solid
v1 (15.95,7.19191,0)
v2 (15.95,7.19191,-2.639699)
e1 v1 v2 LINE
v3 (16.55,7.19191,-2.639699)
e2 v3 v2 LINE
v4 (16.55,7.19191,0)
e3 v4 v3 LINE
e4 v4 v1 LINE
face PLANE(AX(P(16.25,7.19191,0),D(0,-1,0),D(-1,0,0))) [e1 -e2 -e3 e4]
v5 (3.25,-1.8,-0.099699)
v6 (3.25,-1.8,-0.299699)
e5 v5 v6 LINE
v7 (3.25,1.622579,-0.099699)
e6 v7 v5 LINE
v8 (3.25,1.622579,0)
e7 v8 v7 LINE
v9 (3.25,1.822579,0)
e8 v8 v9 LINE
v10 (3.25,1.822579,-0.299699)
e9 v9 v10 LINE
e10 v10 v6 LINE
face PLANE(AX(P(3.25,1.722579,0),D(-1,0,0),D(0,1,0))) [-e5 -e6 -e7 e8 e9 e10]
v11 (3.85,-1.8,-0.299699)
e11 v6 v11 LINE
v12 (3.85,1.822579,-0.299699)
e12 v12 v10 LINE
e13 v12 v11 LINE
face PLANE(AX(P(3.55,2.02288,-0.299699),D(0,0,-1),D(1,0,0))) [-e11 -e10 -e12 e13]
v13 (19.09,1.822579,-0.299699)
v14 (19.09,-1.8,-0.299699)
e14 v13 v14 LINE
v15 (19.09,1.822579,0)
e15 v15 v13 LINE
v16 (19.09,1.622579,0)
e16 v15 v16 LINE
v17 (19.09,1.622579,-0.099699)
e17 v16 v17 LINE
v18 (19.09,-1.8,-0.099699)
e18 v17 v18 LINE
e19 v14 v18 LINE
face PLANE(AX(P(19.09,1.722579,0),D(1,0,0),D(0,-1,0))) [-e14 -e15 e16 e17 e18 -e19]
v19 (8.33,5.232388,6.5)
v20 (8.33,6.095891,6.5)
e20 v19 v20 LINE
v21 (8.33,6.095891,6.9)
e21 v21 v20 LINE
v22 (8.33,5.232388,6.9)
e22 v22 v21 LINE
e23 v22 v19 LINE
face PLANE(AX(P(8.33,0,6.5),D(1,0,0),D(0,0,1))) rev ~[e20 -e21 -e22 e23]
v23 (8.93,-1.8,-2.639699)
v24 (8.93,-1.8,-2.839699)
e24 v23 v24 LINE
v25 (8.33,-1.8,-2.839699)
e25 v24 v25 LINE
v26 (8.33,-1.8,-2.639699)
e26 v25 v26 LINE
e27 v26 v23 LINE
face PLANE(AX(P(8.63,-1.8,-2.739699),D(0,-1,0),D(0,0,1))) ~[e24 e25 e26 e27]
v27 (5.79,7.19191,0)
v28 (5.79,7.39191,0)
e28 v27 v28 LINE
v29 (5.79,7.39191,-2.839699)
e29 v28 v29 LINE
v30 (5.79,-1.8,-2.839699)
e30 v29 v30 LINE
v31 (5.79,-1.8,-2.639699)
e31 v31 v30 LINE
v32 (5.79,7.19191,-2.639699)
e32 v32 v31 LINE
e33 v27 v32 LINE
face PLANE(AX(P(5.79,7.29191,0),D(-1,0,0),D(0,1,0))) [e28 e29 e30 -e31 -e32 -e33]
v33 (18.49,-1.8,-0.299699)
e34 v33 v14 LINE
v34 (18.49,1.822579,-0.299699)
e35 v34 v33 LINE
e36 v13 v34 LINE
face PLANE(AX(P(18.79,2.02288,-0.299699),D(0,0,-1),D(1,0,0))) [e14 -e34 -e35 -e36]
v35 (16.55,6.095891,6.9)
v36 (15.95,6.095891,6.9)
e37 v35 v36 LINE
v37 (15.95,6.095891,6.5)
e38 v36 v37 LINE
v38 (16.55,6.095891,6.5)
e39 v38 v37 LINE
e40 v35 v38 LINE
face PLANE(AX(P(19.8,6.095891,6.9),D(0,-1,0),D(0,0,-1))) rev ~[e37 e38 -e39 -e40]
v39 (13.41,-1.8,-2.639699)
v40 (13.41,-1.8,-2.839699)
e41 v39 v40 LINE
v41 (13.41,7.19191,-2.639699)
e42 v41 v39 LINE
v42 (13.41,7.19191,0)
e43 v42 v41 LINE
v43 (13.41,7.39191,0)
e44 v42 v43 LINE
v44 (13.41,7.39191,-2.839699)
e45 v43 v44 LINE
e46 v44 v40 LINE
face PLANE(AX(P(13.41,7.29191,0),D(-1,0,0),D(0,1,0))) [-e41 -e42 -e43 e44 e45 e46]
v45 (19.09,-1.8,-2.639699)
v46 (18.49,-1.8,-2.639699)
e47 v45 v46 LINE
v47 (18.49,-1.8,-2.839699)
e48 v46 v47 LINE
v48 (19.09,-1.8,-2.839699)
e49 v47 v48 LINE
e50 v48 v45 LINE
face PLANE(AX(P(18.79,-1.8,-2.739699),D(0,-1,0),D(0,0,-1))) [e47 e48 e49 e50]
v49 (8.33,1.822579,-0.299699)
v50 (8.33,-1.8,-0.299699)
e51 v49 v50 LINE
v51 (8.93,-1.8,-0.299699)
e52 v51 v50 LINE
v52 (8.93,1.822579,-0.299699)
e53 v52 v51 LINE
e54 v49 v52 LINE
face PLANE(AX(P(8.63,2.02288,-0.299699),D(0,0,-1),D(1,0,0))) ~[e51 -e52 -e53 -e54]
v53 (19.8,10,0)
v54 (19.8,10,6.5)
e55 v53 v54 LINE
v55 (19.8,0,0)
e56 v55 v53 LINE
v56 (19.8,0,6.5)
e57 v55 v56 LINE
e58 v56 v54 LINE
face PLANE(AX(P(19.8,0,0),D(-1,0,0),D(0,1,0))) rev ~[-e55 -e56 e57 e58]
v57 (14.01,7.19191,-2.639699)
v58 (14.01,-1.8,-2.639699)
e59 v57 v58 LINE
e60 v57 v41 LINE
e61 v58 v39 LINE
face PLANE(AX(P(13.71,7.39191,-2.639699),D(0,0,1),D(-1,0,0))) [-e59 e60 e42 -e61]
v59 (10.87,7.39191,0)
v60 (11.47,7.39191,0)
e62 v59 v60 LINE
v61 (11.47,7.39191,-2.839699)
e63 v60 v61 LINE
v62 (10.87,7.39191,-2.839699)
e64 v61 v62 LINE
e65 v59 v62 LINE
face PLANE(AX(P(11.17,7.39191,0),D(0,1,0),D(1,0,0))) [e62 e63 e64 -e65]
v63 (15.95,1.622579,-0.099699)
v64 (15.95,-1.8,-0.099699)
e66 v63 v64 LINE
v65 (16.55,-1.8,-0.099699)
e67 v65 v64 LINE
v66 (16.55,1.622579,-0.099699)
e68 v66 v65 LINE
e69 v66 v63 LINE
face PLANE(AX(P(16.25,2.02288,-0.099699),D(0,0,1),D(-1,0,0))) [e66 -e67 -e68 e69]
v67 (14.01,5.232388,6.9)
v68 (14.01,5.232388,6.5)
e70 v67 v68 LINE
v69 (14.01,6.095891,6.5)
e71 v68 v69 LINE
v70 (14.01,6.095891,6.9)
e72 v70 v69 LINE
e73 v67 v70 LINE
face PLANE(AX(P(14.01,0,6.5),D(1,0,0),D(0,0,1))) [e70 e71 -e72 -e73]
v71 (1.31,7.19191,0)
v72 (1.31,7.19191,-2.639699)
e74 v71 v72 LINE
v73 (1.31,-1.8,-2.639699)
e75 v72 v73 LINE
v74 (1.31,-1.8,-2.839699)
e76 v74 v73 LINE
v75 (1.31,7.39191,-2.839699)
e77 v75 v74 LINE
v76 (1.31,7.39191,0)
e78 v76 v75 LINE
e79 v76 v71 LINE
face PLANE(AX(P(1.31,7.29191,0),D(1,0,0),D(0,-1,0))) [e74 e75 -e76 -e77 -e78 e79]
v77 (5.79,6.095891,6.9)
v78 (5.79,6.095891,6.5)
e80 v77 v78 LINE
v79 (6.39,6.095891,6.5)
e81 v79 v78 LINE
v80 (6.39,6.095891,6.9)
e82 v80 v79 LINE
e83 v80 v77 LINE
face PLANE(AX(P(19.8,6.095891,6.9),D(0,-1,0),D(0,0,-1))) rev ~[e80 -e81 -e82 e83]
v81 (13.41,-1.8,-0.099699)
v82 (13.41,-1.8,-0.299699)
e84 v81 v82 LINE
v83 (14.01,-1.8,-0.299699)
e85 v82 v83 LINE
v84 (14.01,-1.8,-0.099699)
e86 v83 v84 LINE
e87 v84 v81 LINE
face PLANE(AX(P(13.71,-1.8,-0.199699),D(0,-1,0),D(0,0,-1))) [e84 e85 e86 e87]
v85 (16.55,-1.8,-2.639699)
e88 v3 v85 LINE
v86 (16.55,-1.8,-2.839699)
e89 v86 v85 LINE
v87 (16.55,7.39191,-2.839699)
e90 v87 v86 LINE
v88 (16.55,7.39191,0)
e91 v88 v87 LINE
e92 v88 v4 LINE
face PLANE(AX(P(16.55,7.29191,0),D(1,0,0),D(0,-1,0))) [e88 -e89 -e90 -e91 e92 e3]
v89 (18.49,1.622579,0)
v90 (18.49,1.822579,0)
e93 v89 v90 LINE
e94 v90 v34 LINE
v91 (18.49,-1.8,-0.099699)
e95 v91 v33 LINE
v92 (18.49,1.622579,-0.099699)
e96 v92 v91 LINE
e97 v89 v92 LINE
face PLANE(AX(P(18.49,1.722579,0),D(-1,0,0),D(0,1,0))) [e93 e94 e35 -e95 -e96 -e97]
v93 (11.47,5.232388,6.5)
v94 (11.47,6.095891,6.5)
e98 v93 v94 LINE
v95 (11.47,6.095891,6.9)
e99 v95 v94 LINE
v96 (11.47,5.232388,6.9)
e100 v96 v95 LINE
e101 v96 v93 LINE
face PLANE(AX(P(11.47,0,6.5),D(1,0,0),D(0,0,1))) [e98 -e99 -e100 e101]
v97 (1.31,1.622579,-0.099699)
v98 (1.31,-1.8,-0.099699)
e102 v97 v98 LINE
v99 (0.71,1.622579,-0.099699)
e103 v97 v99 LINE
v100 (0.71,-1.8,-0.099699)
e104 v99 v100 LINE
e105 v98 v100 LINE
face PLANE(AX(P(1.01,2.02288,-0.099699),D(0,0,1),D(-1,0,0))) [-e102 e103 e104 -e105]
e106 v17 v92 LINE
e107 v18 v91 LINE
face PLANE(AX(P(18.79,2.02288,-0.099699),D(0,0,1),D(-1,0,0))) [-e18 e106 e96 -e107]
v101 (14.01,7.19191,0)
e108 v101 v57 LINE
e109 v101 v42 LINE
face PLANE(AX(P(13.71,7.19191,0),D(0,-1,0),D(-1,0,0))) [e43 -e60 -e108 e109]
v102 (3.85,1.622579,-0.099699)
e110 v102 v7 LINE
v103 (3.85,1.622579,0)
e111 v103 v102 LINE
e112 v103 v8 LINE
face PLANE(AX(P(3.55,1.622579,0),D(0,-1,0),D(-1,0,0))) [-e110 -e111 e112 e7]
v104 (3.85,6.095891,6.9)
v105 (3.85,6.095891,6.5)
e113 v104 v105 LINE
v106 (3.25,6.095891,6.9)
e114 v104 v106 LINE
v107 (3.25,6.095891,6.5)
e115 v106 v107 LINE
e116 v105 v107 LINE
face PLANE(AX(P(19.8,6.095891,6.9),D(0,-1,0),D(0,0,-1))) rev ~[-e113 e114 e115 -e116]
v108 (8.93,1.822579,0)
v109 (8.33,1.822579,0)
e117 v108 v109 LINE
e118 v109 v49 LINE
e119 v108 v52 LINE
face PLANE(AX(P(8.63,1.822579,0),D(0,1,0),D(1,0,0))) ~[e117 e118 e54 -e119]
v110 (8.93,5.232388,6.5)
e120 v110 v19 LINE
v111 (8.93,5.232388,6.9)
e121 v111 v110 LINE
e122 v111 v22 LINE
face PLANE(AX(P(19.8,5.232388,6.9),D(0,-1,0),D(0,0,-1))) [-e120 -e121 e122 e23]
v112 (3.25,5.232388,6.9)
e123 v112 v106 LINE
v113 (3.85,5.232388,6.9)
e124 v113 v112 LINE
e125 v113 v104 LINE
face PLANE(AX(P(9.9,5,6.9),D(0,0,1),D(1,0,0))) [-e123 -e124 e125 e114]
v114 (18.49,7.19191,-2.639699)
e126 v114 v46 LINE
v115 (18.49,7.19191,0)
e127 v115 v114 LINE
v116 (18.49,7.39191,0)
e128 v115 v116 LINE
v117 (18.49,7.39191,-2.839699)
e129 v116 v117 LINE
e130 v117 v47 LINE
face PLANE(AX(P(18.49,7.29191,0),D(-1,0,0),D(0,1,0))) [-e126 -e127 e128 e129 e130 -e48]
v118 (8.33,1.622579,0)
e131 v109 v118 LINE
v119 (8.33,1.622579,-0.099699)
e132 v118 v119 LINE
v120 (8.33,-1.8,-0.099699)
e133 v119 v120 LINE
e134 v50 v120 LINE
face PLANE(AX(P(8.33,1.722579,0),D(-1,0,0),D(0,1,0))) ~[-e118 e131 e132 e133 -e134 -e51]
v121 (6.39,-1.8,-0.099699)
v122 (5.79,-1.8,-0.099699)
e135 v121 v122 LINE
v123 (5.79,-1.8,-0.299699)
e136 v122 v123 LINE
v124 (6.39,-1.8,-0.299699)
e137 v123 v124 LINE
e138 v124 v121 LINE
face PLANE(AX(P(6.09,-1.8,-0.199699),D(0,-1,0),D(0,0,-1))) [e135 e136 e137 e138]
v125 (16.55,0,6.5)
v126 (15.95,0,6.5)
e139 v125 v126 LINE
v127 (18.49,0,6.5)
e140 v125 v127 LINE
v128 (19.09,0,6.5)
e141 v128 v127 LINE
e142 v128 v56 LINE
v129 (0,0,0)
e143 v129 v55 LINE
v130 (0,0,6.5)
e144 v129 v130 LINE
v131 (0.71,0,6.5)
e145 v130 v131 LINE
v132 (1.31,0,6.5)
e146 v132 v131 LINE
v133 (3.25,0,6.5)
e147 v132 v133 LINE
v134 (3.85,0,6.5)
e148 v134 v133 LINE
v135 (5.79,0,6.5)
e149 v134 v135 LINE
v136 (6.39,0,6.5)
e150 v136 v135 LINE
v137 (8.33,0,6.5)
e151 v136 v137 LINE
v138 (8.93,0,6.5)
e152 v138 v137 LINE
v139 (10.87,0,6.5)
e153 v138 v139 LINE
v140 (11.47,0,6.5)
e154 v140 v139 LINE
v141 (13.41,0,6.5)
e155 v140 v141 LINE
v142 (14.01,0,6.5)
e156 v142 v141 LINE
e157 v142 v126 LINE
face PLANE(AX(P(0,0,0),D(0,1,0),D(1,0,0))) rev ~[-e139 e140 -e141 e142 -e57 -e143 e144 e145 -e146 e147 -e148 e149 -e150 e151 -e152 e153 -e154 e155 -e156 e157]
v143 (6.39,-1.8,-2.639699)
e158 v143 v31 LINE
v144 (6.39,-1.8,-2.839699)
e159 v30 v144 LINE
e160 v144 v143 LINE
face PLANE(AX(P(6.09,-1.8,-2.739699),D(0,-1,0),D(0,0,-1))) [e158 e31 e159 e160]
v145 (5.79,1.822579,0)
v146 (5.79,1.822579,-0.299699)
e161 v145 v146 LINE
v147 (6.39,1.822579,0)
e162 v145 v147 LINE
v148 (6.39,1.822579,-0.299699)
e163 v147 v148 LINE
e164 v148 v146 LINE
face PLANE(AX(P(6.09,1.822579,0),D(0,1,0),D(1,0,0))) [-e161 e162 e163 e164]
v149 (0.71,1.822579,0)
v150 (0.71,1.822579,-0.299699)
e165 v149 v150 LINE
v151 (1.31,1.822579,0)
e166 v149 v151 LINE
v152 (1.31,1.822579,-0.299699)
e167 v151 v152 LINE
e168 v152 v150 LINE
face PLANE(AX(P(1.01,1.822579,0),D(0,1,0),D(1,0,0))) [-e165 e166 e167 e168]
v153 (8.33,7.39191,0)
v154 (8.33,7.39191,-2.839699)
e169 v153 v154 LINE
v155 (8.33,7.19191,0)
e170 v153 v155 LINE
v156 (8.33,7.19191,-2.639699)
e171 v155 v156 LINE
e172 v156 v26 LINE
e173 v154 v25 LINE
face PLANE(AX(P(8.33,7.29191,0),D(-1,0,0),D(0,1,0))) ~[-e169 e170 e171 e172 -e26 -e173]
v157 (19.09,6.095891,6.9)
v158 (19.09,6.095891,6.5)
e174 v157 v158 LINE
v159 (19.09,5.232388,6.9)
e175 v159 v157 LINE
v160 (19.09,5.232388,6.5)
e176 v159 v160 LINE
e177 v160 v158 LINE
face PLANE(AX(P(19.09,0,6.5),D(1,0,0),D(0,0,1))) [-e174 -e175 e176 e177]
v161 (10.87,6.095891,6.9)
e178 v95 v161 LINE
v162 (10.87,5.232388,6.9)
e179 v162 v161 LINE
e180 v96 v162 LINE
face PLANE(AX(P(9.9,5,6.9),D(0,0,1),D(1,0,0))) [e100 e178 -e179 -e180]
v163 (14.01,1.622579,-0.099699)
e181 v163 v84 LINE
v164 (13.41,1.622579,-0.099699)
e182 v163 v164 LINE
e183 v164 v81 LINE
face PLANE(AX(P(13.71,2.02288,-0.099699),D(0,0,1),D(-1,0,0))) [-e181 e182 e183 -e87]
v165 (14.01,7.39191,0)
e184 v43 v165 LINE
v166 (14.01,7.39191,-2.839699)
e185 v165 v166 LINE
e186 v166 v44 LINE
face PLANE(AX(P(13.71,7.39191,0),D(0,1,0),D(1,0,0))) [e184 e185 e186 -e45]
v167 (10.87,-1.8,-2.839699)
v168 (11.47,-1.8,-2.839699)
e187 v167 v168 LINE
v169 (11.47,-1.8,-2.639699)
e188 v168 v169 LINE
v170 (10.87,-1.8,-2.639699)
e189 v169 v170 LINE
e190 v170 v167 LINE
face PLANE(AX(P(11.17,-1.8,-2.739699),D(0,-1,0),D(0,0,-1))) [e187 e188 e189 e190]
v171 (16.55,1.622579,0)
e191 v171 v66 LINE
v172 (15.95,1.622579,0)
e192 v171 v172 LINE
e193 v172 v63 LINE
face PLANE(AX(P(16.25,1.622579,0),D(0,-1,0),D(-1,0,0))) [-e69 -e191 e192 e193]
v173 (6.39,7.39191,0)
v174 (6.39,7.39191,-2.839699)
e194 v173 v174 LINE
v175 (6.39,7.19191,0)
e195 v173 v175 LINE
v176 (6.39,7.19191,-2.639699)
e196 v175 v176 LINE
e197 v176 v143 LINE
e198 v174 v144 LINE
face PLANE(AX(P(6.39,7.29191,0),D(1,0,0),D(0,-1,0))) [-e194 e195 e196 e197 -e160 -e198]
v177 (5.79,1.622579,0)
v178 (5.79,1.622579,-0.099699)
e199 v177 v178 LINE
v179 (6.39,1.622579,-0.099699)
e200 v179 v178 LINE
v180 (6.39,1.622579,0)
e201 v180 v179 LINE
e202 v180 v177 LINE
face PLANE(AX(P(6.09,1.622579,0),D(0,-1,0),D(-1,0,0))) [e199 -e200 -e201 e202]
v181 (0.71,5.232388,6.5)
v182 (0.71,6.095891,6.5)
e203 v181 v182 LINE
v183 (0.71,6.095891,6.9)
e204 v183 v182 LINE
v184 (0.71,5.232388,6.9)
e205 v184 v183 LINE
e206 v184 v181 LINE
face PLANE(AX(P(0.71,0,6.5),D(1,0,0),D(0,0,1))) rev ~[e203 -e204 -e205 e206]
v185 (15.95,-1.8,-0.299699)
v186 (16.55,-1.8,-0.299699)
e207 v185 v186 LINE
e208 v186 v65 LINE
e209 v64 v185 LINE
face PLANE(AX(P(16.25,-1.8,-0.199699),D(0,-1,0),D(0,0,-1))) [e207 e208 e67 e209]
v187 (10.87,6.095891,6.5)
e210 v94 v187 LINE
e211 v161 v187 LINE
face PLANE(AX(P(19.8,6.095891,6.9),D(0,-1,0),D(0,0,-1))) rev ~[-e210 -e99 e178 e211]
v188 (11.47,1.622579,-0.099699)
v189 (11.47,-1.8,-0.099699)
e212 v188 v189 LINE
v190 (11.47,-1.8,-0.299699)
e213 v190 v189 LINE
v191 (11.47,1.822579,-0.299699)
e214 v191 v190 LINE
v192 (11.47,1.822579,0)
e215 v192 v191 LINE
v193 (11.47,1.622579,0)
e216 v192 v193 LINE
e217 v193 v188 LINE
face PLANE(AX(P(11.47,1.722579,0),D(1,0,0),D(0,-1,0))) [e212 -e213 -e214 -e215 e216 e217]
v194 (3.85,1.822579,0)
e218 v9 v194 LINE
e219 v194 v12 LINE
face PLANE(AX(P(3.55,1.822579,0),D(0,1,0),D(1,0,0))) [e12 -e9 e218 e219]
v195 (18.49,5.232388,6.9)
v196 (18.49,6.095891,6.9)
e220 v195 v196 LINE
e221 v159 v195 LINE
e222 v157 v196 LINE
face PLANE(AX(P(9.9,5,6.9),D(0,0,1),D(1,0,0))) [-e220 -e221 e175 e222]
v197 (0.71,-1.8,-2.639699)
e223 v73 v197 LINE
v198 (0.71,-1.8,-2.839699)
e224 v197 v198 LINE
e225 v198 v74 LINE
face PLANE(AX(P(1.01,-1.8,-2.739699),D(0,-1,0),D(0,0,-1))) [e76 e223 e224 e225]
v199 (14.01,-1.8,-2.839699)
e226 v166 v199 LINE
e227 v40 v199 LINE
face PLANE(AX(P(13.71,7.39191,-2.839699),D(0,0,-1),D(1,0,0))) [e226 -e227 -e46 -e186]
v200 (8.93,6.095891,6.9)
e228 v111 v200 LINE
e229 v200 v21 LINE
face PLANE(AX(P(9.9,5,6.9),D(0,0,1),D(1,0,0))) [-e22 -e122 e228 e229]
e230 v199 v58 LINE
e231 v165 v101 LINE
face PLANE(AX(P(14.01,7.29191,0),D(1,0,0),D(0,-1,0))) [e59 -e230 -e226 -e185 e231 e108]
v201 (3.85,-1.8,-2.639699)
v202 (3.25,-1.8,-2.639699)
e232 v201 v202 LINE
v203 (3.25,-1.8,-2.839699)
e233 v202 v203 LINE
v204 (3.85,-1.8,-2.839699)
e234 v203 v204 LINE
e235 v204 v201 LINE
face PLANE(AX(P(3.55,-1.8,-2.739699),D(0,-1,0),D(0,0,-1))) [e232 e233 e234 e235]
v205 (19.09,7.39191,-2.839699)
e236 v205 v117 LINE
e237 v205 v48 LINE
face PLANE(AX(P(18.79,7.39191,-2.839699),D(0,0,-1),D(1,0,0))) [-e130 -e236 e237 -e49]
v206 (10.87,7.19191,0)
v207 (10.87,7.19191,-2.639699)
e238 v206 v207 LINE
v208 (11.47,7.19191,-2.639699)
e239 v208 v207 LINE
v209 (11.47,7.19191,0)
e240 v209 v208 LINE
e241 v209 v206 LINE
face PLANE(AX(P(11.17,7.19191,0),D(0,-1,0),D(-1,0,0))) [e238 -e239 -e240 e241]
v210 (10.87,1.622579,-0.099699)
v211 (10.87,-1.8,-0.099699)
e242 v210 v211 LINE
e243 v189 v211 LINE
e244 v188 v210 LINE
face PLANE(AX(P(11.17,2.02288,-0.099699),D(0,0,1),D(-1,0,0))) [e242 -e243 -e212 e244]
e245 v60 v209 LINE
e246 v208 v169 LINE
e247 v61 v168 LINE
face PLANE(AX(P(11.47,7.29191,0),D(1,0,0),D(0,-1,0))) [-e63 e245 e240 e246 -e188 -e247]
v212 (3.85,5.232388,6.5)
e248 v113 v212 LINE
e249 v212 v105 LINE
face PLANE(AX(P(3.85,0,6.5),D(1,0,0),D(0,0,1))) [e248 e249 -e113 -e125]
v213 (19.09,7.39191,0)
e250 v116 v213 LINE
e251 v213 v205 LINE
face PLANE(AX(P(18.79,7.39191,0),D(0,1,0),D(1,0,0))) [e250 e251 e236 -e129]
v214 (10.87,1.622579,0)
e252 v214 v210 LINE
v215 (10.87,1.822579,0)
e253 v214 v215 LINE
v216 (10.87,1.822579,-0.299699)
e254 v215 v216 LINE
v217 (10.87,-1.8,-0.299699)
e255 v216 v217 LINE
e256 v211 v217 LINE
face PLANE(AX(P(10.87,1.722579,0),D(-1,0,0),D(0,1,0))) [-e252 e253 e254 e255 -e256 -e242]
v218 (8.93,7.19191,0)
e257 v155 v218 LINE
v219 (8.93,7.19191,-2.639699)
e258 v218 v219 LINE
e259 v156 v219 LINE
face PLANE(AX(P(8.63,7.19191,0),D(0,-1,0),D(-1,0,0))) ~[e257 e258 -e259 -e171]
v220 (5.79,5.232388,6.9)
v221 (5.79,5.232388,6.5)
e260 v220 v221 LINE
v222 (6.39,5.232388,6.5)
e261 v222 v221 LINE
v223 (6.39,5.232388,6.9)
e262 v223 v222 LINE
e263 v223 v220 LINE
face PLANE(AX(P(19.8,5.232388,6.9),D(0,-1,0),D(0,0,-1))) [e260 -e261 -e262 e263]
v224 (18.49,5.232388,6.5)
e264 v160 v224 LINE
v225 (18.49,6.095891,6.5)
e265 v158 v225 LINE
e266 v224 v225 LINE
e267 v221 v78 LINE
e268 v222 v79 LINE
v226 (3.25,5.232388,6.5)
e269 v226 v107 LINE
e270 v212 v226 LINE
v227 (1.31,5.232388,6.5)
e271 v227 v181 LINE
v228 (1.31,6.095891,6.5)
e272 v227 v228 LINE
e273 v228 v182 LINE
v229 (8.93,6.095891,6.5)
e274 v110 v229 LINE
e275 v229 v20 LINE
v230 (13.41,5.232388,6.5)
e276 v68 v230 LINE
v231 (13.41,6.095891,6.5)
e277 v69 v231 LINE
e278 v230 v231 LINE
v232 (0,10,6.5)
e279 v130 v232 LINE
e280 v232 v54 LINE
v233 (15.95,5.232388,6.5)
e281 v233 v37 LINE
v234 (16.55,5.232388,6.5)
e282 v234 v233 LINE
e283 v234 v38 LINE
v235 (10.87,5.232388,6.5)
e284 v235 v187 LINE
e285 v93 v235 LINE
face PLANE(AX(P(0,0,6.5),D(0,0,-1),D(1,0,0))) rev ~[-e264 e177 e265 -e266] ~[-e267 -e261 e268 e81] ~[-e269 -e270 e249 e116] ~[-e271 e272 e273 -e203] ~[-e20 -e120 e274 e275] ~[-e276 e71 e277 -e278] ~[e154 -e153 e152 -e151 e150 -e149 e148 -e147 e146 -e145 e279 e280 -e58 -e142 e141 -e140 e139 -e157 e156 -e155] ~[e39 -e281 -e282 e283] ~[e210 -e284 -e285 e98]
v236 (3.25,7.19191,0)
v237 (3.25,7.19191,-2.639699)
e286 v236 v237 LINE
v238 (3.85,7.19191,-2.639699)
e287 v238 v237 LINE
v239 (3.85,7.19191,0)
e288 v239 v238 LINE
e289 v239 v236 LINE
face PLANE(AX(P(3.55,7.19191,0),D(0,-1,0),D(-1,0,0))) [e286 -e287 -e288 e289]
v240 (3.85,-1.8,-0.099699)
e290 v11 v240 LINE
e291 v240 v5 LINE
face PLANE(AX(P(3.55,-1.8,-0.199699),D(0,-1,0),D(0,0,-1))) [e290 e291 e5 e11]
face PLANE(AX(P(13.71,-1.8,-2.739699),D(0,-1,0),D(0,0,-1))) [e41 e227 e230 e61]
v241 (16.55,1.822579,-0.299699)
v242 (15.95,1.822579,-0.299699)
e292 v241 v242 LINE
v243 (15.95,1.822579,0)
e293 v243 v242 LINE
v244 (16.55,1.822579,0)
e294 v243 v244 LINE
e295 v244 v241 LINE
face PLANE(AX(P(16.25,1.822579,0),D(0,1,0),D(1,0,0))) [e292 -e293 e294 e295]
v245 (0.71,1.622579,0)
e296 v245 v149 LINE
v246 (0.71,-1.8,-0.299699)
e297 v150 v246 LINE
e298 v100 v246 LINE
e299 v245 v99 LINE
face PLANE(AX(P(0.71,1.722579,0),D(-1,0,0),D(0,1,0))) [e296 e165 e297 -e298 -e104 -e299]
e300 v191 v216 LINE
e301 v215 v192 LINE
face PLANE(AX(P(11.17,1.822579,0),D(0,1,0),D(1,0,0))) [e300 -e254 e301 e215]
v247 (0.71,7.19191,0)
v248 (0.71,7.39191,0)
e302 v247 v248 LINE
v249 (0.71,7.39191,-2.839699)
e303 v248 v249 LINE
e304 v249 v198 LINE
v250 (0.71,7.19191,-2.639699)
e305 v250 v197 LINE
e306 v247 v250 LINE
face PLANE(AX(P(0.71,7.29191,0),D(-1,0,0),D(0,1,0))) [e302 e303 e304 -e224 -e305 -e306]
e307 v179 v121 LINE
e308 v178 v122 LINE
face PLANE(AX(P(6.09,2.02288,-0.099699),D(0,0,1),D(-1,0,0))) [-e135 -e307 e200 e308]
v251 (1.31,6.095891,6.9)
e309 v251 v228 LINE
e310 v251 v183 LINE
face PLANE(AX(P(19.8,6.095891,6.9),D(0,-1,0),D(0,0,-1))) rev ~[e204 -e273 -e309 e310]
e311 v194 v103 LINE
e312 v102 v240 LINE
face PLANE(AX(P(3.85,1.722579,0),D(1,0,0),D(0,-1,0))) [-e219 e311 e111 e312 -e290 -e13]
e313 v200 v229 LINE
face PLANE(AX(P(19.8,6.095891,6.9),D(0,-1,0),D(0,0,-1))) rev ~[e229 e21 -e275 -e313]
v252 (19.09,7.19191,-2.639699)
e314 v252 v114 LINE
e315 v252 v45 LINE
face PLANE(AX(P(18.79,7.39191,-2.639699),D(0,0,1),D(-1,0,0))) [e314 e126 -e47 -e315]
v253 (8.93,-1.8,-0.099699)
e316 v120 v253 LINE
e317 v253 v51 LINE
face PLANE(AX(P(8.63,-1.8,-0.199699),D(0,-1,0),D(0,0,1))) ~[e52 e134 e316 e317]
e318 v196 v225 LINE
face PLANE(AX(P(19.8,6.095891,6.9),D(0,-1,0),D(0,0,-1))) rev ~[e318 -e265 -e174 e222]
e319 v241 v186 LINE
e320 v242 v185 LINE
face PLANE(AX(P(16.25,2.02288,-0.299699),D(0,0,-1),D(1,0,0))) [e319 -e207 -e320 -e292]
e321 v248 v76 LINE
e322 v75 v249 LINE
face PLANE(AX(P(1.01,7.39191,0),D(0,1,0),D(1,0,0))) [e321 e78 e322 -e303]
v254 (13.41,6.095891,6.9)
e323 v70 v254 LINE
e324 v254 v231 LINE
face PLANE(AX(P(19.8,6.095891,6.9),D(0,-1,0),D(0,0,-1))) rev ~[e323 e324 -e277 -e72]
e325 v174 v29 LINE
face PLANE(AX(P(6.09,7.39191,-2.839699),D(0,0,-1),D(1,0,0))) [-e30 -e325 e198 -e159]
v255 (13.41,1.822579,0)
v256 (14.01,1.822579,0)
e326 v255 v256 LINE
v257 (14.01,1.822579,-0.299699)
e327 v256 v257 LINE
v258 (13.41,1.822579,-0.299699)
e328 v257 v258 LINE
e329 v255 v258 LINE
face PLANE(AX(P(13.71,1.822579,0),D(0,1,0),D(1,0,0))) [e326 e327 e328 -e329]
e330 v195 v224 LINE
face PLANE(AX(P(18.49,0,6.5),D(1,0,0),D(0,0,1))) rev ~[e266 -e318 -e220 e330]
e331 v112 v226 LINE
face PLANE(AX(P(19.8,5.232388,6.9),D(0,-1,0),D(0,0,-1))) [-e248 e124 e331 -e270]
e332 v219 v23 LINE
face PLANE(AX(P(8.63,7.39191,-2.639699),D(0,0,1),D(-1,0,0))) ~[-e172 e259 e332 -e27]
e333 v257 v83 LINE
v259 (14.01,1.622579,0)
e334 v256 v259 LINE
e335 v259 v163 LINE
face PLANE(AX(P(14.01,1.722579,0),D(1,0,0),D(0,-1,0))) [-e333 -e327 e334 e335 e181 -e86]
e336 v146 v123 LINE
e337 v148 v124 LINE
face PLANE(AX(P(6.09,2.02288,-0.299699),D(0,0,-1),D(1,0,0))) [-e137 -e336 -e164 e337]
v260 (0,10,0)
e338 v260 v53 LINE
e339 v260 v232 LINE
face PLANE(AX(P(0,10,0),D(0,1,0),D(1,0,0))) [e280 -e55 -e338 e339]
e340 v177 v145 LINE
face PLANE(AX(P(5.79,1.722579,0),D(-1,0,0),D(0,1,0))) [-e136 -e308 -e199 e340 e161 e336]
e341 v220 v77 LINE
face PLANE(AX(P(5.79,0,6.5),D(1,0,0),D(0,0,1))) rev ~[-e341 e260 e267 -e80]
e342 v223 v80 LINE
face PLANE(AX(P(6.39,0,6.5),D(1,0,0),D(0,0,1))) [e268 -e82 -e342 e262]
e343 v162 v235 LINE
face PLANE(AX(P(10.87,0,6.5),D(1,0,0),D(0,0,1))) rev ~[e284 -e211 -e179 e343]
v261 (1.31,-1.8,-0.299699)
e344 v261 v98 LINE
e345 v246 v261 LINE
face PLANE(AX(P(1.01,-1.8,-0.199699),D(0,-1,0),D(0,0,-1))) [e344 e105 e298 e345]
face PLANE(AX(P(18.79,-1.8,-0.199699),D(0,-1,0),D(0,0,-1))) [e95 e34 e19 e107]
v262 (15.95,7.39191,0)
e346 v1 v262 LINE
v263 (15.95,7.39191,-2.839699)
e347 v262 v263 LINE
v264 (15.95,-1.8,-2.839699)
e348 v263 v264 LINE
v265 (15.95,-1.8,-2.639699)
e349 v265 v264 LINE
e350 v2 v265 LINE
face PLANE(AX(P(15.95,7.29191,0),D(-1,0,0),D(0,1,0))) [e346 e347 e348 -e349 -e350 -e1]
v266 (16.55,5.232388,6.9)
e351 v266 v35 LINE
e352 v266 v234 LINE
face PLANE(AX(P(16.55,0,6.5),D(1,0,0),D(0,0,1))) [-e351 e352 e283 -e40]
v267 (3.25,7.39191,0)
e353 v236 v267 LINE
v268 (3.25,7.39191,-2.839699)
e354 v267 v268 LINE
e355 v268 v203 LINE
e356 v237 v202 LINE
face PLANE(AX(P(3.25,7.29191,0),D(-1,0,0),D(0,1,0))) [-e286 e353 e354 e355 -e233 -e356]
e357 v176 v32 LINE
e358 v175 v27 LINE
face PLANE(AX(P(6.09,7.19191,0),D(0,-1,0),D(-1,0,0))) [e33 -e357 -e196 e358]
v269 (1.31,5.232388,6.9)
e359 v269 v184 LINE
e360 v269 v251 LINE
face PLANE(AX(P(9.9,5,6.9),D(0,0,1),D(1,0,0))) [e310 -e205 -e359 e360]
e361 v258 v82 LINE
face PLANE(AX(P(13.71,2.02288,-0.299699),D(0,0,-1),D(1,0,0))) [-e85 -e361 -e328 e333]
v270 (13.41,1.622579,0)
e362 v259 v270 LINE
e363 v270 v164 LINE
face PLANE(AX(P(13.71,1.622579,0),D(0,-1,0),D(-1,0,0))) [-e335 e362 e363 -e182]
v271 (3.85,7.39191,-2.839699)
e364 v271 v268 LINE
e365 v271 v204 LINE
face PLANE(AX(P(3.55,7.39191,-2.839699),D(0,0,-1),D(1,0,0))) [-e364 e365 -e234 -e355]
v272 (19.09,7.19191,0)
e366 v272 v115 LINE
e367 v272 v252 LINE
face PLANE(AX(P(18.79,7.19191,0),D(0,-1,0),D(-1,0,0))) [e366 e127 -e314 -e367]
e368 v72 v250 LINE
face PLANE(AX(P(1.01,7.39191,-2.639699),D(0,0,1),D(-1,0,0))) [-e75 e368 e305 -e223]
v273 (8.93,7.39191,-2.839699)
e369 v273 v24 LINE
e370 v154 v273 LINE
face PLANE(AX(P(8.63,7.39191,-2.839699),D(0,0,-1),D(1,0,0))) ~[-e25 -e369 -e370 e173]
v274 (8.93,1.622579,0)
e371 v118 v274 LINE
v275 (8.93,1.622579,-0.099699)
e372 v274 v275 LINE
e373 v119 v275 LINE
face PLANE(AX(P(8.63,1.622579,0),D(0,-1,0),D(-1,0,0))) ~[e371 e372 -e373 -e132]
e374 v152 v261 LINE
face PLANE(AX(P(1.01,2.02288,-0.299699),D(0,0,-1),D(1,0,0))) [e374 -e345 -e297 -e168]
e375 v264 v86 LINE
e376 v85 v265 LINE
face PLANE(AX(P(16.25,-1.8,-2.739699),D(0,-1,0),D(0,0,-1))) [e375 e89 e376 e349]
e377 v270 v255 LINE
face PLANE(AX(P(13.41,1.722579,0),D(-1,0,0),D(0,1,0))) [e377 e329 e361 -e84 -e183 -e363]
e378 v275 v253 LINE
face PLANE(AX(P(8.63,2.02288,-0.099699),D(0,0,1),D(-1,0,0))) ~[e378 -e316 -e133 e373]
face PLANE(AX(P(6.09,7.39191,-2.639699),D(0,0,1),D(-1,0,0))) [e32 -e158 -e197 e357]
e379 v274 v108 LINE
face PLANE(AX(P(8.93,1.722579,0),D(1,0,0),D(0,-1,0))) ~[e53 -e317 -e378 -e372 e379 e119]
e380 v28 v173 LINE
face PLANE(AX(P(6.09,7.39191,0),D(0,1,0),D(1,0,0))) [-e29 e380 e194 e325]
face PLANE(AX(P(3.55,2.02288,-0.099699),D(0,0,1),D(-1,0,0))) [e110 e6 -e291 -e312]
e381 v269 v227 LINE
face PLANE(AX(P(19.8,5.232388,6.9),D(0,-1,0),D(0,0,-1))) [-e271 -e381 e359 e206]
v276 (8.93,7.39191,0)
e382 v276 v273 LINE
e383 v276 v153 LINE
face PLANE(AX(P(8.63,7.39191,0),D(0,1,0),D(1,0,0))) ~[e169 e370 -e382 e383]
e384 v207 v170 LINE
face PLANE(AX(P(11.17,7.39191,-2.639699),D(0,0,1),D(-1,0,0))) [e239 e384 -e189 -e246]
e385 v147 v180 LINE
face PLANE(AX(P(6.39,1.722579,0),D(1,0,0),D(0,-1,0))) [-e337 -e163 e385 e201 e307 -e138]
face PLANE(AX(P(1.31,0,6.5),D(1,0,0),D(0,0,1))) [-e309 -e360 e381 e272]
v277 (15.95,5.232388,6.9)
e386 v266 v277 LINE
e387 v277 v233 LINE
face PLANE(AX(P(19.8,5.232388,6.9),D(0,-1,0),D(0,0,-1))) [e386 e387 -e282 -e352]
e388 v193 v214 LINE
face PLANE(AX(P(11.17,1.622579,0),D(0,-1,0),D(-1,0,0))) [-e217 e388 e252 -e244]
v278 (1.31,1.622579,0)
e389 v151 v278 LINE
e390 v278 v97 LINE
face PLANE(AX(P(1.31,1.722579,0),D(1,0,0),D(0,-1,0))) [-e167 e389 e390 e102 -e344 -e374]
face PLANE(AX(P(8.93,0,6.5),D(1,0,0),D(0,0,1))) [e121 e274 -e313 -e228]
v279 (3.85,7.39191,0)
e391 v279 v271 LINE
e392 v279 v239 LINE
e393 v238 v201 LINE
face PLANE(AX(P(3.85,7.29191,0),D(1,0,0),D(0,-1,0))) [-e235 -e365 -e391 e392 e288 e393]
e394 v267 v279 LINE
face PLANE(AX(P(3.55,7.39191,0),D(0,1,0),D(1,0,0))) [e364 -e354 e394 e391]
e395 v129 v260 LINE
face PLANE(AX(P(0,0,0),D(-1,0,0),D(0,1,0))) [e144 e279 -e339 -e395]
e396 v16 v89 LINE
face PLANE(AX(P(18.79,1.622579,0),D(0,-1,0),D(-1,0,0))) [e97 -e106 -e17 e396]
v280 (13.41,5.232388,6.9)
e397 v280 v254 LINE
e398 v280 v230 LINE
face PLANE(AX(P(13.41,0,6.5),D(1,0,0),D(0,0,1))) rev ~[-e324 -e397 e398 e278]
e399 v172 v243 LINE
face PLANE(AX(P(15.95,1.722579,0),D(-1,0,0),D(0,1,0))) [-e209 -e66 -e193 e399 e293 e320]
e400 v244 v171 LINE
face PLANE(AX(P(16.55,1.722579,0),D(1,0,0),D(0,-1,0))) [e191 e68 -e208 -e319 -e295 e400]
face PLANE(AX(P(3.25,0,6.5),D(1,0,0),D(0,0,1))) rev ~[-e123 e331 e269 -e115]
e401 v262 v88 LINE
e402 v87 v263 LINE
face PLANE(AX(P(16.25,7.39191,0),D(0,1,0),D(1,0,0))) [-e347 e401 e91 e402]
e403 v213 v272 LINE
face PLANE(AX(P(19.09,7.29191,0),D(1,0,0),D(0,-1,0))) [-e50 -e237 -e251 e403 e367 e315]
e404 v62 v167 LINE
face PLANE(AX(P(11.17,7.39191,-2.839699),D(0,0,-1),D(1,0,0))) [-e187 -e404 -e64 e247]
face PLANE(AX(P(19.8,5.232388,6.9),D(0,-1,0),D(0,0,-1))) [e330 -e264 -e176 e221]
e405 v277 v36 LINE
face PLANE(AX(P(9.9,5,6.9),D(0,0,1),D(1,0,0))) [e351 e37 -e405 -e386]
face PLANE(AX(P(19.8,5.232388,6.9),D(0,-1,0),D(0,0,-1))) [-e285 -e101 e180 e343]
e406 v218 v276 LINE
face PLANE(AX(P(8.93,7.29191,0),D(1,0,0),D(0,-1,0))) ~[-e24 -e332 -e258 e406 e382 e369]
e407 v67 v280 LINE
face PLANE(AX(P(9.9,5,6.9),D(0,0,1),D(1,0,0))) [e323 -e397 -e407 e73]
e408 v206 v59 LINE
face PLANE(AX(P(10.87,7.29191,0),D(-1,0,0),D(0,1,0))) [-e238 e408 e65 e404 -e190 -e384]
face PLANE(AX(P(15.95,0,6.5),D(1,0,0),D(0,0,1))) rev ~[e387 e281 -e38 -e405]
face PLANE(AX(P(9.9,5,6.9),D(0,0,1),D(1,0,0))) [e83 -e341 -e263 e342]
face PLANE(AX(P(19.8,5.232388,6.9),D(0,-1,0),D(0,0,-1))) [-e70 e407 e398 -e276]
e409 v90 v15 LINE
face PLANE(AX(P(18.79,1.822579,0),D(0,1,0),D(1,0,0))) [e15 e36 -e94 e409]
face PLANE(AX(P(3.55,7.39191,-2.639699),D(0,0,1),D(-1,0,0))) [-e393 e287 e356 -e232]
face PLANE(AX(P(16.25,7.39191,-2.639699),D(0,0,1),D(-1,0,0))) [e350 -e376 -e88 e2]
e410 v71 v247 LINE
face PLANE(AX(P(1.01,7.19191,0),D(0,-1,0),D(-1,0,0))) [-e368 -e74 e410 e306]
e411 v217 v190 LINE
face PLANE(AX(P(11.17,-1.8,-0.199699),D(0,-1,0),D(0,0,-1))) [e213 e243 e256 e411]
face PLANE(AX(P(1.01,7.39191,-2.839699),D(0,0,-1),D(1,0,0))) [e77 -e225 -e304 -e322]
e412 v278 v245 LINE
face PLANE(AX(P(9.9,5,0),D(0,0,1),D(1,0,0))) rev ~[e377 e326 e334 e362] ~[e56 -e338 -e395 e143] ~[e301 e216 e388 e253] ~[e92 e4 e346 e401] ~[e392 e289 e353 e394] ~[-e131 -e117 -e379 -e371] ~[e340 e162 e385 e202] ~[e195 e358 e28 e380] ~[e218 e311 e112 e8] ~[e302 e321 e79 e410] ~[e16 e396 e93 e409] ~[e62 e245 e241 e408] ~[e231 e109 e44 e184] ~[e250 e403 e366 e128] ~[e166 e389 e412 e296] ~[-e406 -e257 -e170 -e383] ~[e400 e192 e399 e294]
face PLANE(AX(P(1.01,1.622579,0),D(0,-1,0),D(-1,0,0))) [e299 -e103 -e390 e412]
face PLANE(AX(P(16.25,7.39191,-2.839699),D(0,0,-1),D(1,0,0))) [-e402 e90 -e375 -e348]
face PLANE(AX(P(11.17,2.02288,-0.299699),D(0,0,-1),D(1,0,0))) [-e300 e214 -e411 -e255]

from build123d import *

# Parameters (mm, degrees)
SKETCH_1_W               = 19.8
SKETCH_1_H               = 10
EXTRUDE_1_DEPTH          = 6.9
SKETCH_2_W               = 0.6
SKETCH_2_H               = 0.2
PATTERN_LINEAR_1_COUNT   = 4
PATTERN_LINEAR_1_PITCH   = 2.54
MIRROR_1_COPY_1_SKETCH_W = 0.6
MIRROR_1_COPY_1_SKETCH_H = 0.2
MIRROR_1_COPY_2_SKETCH_W = 0.6
MIRROR_1_COPY_2_SKETCH_H = 0.2
MIRROR_1_COPY_3_SKETCH_W = 0.6
MIRROR_1_COPY_3_SKETCH_H = 0.2
SKETCH_5_W               = 0.6
SKETCH_5_H               = 0.2
PATTERN_LINEAR_2_COUNT   = 4
PATTERN_LINEAR_2_PITCH   = 2.54
MIRROR_2_COPY_1_SKETCH_W = 0.6
MIRROR_2_COPY_1_SKETCH_H = 0.2
MIRROR_2_COPY_2_SKETCH_W = 0.6
MIRROR_2_COPY_2_SKETCH_H = 0.2
MIRROR_2_COPY_3_SKETCH_W = 0.6
MIRROR_2_COPY_3_SKETCH_H = 0.2
MIRROR_2_COPY_4_SKETCH_W = 0.6
MIRROR_2_COPY_4_SKETCH_H = 0.2
SKETCH_7_W               = 0.71
SKETCH_7_H               = 0.4
SKETCH_7_W_2             = 1.94
CUT_EXTRUDE_1_DEPTH      = 24.230368056
SKETCH_8_W               = 0.4
SKETCH_8_H               = 3.904109304
SKETCH_8_H_2             = 5.232387761
CUT_EXTRUDE_2_DEPTH      = 24.230368056


with BuildPart() as part:
    # 草图1 → 凸台-拉伸1 (new body)
    with BuildSketch(Plane.XY):
        with Locations((9.9, 5)):
            Rectangle(SKETCH_1_W, SKETCH_1_H)
    extrude(amount=EXTRUDE_1_DEPTH)

    # 扫描2: sweep along a path in 草图3
    with BuildLine(Plane(origin=(11.17, 0, 0), x_dir=(0, 0, -1), z_dir=(1, 0, 0))) as sweep_2_path:
        Line((0, 2.022879956), (0.5, 2.022879956))
        Line((0.5, 2.022879956), (0.5, -1.8))
    # 草图2 → 扫描2 (sweep)
    with BuildSketch(Plane(origin=(0, 0, 0), x_dir=(-1, 0, 0), z_dir=(0, 0, -1))):
        with Locations((-11.17, 1.72257922)):
            Rectangle(SKETCH_2_W, SKETCH_2_H)
    sweep_2 = sweep(path=sweep_2_path.line, transition=Transition.RIGHT)

    # 阵列(线性)1: 扫描2 ×4
    with Locations(*[(i * PATTERN_LINEAR_1_PITCH, 0, 0) for i in range(1, PATTERN_LINEAR_1_COUNT)]):
        add(sweep_2)

    # 镜向1: 扫描2 across plane
    add(sweep_2.mirror(Plane(origin=(9.9, 0, 0), x_dir=(0, 0, 1), z_dir=(1, 0, 0))))

    # 镜向1 copy 1: sweep along a path in 镜向1 copy 1 path
    with BuildLine(Plane(origin=(6.09, 0, 0), x_dir=(0, 0, -1), z_dir=(-1, 0, 0))) as mirror_1_copy_1_path:
        Line((0, -2.022879956), (0.5, -2.022879956))
        Line((0.5, -2.022879956), (0.5, 1.8))
    # 镜向1 copy 1 sketch → 镜向1 copy 1 (sweep)
    with BuildSketch(Plane(origin=(17.26, 0, 0), x_dir=(1, 0, 0), z_dir=(0, 0, -1))):
        with Locations((-11.17, -1.72257922)):
            Rectangle(MIRROR_1_COPY_1_SKETCH_W, MIRROR_1_COPY_1_SKETCH_H)
    sweep(path=mirror_1_copy_1_path.line, transition=Transition.RIGHT)

    # 镜向1 copy 2: sweep along a path in 镜向1 copy 2 path
    with BuildLine(Plane(origin=(3.55, 0, 0), x_dir=(0, 0, -1), z_dir=(-1, 0, 0))) as mirror_1_copy_2_path:
        Line((0, -2.022879956), (0.5, -2.022879956))
        Line((0.5, -2.022879956), (0.5, 1.8))
    # 镜向1 copy 2 sketch → 镜向1 copy 2 (sweep)
    with BuildSketch(Plane(origin=(14.72, 0, 0), x_dir=(1, 0, 0), z_dir=(0, 0, -1))):
        with Locations((-11.17, -1.72257922)):
            Rectangle(MIRROR_1_COPY_2_SKETCH_W, MIRROR_1_COPY_2_SKETCH_H)
    sweep(path=mirror_1_copy_2_path.line, transition=Transition.RIGHT)

    # 镜向1 copy 3: sweep along a path in 镜向1 copy 3 path
    with BuildLine(Plane(origin=(1.01, 0, 0), x_dir=(0, 0, -1), z_dir=(-1, 0, 0))) as mirror_1_copy_3_path:
        Line((0, -2.022879956), (0.5, -2.022879956))
        Line((0.5, -2.022879956), (0.5, 1.8))
    # 镜向1 copy 3 sketch → 镜向1 copy 3 (sweep)
    with BuildSketch(Plane(origin=(12.18, 0, 0), x_dir=(1, 0, 0), z_dir=(0, 0, -1))):
        with Locations((-11.17, -1.72257922)):
            Rectangle(MIRROR_1_COPY_3_SKETCH_W, MIRROR_1_COPY_3_SKETCH_H)
    sweep(path=mirror_1_copy_3_path.line, transition=Transition.RIGHT)

    # 扫描3: sweep along a path in 草图6
    with BuildLine(Plane(origin=(11.17, 0, 0), x_dir=(0, 0, -1), z_dir=(1, 0, 0))) as sweep_3_path:
        Line((0, 7.391909702), (2.839699264, 7.391909702))
        Line((2.839699264, 7.391909702), (2.839699264, -1.8))
    # 草图5 → 扫描3 (sweep)
    with BuildSketch(Plane(origin=(0, 0, 0), x_dir=(-1, 0, 0), z_dir=(0, 0, -1))):
        with Locations((-11.17, 7.291909702)):
            Rectangle(SKETCH_5_W, SKETCH_5_H)
    sweep_3 = sweep(path=sweep_3_path.line, transition=Transition.RIGHT)

    # 阵列(线性)2: 扫描3 ×4
    with Locations(*[(i * PATTERN_LINEAR_2_PITCH, 0, 0) for i in range(1, PATTERN_LINEAR_2_COUNT)]):
        add(sweep_3)

    # 镜向2 copy 1: sweep along a path in 镜向2 copy 1 path
    with BuildLine(Plane(origin=(6.09, 0, 0), x_dir=(0, 0, -1), z_dir=(-1, 0, 0))) as mirror_2_copy_1_path:
        Line((0, -7.391909702), (2.839699264, -7.391909702))
        Line((2.839699264, -7.391909702), (2.839699264, 1.8))
    # 镜向2 copy 1 sketch → 镜向2 copy 1 (sweep)
    with BuildSketch(Plane(origin=(17.26, 0, 0), x_dir=(1, 0, 0), z_dir=(0, 0, -1))):
        with Locations((-11.17, -7.291909702)):
            Rectangle(MIRROR_2_COPY_1_SKETCH_W, MIRROR_2_COPY_1_SKETCH_H)
    sweep(path=mirror_2_copy_1_path.line, transition=Transition.RIGHT)

    # 镜向2 copy 2: sweep along a path in 镜向2 copy 2 path
    with BuildLine(Plane(origin=(3.55, 0, 0), x_dir=(0, 0, -1), z_dir=(-1, 0, 0))) as mirror_2_copy_2_path:
        Line((0, -7.391909702), (2.839699264, -7.391909702))
        Line((2.839699264, -7.391909702), (2.839699264, 1.8))
    # 镜向2 copy 2 sketch → 镜向2 copy 2 (sweep)
    with BuildSketch(Plane(origin=(14.72, 0, 0), x_dir=(1, 0, 0), z_dir=(0, 0, -1))):
        with Locations((-11.17, -7.291909702)):
            Rectangle(MIRROR_2_COPY_2_SKETCH_W, MIRROR_2_COPY_2_SKETCH_H)
    sweep(path=mirror_2_copy_2_path.line, transition=Transition.RIGHT)

    # 镜向2 copy 3: sweep along a path in 镜向2 copy 3 path
    with BuildLine(Plane(origin=(1.01, 0, 0), x_dir=(0, 0, -1), z_dir=(-1, 0, 0))) as mirror_2_copy_3_path:
        Line((0, -7.391909702), (2.839699264, -7.391909702))
        Line((2.839699264, -7.391909702), (2.839699264, 1.8))
    # 镜向2 copy 3 sketch → 镜向2 copy 3 (sweep)
    with BuildSketch(Plane(origin=(12.18, 0, 0), x_dir=(1, 0, 0), z_dir=(0, 0, -1))):
        with Locations((-11.17, -7.291909702)):
            Rectangle(MIRROR_2_COPY_3_SKETCH_W, MIRROR_2_COPY_3_SKETCH_H)
    sweep(path=mirror_2_copy_3_path.line, transition=Transition.RIGHT)

    # 镜向2 copy 4: sweep along a path in 镜向2 copy 4 path
    with BuildLine(Plane(origin=(8.63, 0, 0), x_dir=(0, 0, -1), z_dir=(-1, 0, 0))) as mirror_2_copy_4_path:
        Line((0, -7.391909702), (2.839699264, -7.391909702))
        Line((2.839699264, -7.391909702), (2.839699264, 1.8))
    # 镜向2 copy 4 sketch → 镜向2 copy 4 (sweep)
    with BuildSketch(Plane(origin=(19.8, 0, 0), x_dir=(1, 0, 0), z_dir=(0, 0, -1))):
        with Locations((-11.17, -7.291909702)):
            Rectangle(MIRROR_2_COPY_4_SKETCH_W, MIRROR_2_COPY_4_SKETCH_H)
    sweep(path=mirror_2_copy_4_path.line, transition=Transition.RIGHT)

    # 草图7 → 切除-拉伸1 (cut, through all)
    with BuildSketch(Plane.XZ):
        with Locations((0.355, 6.7)):
            Rectangle(SKETCH_7_W, SKETCH_7_H)
        with Locations((2.28, 6.7)):
            Rectangle(SKETCH_7_W_2, SKETCH_7_H)
        with Locations((4.82, 6.7)):
            Rectangle(SKETCH_7_W_2, SKETCH_7_H)
        with Locations((9.9, 6.7)):
            Rectangle(SKETCH_7_W_2, SKETCH_7_H)
        with Locations((7.36, 6.7)):
            Rectangle(SKETCH_7_W_2, SKETCH_7_H)
        with Locations((12.44, 6.7)):
            Rectangle(SKETCH_7_W_2, SKETCH_7_H)
        with Locations((14.98, 6.7)):
            Rectangle(SKETCH_7_W_2, SKETCH_7_H)
        with Locations((17.52, 6.7)):
            Rectangle(SKETCH_7_W_2, SKETCH_7_H)
        with Locations((19.445, 6.7)):
            Rectangle(SKETCH_7_W, SKETCH_7_H)
    extrude(amount=-CUT_EXTRUDE_1_DEPTH, mode=Mode.SUBTRACT)

    # 草图8 → 切除-拉伸2 (cut, through all)
    with BuildSketch(Plane(origin=(19.8, 0, 0), x_dir=(0, 0, -1), z_dir=(1, 0, 0))):
        with Locations((-6.7, 8.047945348)):
            Rectangle(SKETCH_8_W, SKETCH_8_H)
        with Locations((-6.7, 2.616193881)):
            Rectangle(SKETCH_8_W, SKETCH_8_H_2)
    extrude(amount=-CUT_EXTRUDE_2_DEPTH, mode=Mode.SUBTRACT)


solid = part.part
